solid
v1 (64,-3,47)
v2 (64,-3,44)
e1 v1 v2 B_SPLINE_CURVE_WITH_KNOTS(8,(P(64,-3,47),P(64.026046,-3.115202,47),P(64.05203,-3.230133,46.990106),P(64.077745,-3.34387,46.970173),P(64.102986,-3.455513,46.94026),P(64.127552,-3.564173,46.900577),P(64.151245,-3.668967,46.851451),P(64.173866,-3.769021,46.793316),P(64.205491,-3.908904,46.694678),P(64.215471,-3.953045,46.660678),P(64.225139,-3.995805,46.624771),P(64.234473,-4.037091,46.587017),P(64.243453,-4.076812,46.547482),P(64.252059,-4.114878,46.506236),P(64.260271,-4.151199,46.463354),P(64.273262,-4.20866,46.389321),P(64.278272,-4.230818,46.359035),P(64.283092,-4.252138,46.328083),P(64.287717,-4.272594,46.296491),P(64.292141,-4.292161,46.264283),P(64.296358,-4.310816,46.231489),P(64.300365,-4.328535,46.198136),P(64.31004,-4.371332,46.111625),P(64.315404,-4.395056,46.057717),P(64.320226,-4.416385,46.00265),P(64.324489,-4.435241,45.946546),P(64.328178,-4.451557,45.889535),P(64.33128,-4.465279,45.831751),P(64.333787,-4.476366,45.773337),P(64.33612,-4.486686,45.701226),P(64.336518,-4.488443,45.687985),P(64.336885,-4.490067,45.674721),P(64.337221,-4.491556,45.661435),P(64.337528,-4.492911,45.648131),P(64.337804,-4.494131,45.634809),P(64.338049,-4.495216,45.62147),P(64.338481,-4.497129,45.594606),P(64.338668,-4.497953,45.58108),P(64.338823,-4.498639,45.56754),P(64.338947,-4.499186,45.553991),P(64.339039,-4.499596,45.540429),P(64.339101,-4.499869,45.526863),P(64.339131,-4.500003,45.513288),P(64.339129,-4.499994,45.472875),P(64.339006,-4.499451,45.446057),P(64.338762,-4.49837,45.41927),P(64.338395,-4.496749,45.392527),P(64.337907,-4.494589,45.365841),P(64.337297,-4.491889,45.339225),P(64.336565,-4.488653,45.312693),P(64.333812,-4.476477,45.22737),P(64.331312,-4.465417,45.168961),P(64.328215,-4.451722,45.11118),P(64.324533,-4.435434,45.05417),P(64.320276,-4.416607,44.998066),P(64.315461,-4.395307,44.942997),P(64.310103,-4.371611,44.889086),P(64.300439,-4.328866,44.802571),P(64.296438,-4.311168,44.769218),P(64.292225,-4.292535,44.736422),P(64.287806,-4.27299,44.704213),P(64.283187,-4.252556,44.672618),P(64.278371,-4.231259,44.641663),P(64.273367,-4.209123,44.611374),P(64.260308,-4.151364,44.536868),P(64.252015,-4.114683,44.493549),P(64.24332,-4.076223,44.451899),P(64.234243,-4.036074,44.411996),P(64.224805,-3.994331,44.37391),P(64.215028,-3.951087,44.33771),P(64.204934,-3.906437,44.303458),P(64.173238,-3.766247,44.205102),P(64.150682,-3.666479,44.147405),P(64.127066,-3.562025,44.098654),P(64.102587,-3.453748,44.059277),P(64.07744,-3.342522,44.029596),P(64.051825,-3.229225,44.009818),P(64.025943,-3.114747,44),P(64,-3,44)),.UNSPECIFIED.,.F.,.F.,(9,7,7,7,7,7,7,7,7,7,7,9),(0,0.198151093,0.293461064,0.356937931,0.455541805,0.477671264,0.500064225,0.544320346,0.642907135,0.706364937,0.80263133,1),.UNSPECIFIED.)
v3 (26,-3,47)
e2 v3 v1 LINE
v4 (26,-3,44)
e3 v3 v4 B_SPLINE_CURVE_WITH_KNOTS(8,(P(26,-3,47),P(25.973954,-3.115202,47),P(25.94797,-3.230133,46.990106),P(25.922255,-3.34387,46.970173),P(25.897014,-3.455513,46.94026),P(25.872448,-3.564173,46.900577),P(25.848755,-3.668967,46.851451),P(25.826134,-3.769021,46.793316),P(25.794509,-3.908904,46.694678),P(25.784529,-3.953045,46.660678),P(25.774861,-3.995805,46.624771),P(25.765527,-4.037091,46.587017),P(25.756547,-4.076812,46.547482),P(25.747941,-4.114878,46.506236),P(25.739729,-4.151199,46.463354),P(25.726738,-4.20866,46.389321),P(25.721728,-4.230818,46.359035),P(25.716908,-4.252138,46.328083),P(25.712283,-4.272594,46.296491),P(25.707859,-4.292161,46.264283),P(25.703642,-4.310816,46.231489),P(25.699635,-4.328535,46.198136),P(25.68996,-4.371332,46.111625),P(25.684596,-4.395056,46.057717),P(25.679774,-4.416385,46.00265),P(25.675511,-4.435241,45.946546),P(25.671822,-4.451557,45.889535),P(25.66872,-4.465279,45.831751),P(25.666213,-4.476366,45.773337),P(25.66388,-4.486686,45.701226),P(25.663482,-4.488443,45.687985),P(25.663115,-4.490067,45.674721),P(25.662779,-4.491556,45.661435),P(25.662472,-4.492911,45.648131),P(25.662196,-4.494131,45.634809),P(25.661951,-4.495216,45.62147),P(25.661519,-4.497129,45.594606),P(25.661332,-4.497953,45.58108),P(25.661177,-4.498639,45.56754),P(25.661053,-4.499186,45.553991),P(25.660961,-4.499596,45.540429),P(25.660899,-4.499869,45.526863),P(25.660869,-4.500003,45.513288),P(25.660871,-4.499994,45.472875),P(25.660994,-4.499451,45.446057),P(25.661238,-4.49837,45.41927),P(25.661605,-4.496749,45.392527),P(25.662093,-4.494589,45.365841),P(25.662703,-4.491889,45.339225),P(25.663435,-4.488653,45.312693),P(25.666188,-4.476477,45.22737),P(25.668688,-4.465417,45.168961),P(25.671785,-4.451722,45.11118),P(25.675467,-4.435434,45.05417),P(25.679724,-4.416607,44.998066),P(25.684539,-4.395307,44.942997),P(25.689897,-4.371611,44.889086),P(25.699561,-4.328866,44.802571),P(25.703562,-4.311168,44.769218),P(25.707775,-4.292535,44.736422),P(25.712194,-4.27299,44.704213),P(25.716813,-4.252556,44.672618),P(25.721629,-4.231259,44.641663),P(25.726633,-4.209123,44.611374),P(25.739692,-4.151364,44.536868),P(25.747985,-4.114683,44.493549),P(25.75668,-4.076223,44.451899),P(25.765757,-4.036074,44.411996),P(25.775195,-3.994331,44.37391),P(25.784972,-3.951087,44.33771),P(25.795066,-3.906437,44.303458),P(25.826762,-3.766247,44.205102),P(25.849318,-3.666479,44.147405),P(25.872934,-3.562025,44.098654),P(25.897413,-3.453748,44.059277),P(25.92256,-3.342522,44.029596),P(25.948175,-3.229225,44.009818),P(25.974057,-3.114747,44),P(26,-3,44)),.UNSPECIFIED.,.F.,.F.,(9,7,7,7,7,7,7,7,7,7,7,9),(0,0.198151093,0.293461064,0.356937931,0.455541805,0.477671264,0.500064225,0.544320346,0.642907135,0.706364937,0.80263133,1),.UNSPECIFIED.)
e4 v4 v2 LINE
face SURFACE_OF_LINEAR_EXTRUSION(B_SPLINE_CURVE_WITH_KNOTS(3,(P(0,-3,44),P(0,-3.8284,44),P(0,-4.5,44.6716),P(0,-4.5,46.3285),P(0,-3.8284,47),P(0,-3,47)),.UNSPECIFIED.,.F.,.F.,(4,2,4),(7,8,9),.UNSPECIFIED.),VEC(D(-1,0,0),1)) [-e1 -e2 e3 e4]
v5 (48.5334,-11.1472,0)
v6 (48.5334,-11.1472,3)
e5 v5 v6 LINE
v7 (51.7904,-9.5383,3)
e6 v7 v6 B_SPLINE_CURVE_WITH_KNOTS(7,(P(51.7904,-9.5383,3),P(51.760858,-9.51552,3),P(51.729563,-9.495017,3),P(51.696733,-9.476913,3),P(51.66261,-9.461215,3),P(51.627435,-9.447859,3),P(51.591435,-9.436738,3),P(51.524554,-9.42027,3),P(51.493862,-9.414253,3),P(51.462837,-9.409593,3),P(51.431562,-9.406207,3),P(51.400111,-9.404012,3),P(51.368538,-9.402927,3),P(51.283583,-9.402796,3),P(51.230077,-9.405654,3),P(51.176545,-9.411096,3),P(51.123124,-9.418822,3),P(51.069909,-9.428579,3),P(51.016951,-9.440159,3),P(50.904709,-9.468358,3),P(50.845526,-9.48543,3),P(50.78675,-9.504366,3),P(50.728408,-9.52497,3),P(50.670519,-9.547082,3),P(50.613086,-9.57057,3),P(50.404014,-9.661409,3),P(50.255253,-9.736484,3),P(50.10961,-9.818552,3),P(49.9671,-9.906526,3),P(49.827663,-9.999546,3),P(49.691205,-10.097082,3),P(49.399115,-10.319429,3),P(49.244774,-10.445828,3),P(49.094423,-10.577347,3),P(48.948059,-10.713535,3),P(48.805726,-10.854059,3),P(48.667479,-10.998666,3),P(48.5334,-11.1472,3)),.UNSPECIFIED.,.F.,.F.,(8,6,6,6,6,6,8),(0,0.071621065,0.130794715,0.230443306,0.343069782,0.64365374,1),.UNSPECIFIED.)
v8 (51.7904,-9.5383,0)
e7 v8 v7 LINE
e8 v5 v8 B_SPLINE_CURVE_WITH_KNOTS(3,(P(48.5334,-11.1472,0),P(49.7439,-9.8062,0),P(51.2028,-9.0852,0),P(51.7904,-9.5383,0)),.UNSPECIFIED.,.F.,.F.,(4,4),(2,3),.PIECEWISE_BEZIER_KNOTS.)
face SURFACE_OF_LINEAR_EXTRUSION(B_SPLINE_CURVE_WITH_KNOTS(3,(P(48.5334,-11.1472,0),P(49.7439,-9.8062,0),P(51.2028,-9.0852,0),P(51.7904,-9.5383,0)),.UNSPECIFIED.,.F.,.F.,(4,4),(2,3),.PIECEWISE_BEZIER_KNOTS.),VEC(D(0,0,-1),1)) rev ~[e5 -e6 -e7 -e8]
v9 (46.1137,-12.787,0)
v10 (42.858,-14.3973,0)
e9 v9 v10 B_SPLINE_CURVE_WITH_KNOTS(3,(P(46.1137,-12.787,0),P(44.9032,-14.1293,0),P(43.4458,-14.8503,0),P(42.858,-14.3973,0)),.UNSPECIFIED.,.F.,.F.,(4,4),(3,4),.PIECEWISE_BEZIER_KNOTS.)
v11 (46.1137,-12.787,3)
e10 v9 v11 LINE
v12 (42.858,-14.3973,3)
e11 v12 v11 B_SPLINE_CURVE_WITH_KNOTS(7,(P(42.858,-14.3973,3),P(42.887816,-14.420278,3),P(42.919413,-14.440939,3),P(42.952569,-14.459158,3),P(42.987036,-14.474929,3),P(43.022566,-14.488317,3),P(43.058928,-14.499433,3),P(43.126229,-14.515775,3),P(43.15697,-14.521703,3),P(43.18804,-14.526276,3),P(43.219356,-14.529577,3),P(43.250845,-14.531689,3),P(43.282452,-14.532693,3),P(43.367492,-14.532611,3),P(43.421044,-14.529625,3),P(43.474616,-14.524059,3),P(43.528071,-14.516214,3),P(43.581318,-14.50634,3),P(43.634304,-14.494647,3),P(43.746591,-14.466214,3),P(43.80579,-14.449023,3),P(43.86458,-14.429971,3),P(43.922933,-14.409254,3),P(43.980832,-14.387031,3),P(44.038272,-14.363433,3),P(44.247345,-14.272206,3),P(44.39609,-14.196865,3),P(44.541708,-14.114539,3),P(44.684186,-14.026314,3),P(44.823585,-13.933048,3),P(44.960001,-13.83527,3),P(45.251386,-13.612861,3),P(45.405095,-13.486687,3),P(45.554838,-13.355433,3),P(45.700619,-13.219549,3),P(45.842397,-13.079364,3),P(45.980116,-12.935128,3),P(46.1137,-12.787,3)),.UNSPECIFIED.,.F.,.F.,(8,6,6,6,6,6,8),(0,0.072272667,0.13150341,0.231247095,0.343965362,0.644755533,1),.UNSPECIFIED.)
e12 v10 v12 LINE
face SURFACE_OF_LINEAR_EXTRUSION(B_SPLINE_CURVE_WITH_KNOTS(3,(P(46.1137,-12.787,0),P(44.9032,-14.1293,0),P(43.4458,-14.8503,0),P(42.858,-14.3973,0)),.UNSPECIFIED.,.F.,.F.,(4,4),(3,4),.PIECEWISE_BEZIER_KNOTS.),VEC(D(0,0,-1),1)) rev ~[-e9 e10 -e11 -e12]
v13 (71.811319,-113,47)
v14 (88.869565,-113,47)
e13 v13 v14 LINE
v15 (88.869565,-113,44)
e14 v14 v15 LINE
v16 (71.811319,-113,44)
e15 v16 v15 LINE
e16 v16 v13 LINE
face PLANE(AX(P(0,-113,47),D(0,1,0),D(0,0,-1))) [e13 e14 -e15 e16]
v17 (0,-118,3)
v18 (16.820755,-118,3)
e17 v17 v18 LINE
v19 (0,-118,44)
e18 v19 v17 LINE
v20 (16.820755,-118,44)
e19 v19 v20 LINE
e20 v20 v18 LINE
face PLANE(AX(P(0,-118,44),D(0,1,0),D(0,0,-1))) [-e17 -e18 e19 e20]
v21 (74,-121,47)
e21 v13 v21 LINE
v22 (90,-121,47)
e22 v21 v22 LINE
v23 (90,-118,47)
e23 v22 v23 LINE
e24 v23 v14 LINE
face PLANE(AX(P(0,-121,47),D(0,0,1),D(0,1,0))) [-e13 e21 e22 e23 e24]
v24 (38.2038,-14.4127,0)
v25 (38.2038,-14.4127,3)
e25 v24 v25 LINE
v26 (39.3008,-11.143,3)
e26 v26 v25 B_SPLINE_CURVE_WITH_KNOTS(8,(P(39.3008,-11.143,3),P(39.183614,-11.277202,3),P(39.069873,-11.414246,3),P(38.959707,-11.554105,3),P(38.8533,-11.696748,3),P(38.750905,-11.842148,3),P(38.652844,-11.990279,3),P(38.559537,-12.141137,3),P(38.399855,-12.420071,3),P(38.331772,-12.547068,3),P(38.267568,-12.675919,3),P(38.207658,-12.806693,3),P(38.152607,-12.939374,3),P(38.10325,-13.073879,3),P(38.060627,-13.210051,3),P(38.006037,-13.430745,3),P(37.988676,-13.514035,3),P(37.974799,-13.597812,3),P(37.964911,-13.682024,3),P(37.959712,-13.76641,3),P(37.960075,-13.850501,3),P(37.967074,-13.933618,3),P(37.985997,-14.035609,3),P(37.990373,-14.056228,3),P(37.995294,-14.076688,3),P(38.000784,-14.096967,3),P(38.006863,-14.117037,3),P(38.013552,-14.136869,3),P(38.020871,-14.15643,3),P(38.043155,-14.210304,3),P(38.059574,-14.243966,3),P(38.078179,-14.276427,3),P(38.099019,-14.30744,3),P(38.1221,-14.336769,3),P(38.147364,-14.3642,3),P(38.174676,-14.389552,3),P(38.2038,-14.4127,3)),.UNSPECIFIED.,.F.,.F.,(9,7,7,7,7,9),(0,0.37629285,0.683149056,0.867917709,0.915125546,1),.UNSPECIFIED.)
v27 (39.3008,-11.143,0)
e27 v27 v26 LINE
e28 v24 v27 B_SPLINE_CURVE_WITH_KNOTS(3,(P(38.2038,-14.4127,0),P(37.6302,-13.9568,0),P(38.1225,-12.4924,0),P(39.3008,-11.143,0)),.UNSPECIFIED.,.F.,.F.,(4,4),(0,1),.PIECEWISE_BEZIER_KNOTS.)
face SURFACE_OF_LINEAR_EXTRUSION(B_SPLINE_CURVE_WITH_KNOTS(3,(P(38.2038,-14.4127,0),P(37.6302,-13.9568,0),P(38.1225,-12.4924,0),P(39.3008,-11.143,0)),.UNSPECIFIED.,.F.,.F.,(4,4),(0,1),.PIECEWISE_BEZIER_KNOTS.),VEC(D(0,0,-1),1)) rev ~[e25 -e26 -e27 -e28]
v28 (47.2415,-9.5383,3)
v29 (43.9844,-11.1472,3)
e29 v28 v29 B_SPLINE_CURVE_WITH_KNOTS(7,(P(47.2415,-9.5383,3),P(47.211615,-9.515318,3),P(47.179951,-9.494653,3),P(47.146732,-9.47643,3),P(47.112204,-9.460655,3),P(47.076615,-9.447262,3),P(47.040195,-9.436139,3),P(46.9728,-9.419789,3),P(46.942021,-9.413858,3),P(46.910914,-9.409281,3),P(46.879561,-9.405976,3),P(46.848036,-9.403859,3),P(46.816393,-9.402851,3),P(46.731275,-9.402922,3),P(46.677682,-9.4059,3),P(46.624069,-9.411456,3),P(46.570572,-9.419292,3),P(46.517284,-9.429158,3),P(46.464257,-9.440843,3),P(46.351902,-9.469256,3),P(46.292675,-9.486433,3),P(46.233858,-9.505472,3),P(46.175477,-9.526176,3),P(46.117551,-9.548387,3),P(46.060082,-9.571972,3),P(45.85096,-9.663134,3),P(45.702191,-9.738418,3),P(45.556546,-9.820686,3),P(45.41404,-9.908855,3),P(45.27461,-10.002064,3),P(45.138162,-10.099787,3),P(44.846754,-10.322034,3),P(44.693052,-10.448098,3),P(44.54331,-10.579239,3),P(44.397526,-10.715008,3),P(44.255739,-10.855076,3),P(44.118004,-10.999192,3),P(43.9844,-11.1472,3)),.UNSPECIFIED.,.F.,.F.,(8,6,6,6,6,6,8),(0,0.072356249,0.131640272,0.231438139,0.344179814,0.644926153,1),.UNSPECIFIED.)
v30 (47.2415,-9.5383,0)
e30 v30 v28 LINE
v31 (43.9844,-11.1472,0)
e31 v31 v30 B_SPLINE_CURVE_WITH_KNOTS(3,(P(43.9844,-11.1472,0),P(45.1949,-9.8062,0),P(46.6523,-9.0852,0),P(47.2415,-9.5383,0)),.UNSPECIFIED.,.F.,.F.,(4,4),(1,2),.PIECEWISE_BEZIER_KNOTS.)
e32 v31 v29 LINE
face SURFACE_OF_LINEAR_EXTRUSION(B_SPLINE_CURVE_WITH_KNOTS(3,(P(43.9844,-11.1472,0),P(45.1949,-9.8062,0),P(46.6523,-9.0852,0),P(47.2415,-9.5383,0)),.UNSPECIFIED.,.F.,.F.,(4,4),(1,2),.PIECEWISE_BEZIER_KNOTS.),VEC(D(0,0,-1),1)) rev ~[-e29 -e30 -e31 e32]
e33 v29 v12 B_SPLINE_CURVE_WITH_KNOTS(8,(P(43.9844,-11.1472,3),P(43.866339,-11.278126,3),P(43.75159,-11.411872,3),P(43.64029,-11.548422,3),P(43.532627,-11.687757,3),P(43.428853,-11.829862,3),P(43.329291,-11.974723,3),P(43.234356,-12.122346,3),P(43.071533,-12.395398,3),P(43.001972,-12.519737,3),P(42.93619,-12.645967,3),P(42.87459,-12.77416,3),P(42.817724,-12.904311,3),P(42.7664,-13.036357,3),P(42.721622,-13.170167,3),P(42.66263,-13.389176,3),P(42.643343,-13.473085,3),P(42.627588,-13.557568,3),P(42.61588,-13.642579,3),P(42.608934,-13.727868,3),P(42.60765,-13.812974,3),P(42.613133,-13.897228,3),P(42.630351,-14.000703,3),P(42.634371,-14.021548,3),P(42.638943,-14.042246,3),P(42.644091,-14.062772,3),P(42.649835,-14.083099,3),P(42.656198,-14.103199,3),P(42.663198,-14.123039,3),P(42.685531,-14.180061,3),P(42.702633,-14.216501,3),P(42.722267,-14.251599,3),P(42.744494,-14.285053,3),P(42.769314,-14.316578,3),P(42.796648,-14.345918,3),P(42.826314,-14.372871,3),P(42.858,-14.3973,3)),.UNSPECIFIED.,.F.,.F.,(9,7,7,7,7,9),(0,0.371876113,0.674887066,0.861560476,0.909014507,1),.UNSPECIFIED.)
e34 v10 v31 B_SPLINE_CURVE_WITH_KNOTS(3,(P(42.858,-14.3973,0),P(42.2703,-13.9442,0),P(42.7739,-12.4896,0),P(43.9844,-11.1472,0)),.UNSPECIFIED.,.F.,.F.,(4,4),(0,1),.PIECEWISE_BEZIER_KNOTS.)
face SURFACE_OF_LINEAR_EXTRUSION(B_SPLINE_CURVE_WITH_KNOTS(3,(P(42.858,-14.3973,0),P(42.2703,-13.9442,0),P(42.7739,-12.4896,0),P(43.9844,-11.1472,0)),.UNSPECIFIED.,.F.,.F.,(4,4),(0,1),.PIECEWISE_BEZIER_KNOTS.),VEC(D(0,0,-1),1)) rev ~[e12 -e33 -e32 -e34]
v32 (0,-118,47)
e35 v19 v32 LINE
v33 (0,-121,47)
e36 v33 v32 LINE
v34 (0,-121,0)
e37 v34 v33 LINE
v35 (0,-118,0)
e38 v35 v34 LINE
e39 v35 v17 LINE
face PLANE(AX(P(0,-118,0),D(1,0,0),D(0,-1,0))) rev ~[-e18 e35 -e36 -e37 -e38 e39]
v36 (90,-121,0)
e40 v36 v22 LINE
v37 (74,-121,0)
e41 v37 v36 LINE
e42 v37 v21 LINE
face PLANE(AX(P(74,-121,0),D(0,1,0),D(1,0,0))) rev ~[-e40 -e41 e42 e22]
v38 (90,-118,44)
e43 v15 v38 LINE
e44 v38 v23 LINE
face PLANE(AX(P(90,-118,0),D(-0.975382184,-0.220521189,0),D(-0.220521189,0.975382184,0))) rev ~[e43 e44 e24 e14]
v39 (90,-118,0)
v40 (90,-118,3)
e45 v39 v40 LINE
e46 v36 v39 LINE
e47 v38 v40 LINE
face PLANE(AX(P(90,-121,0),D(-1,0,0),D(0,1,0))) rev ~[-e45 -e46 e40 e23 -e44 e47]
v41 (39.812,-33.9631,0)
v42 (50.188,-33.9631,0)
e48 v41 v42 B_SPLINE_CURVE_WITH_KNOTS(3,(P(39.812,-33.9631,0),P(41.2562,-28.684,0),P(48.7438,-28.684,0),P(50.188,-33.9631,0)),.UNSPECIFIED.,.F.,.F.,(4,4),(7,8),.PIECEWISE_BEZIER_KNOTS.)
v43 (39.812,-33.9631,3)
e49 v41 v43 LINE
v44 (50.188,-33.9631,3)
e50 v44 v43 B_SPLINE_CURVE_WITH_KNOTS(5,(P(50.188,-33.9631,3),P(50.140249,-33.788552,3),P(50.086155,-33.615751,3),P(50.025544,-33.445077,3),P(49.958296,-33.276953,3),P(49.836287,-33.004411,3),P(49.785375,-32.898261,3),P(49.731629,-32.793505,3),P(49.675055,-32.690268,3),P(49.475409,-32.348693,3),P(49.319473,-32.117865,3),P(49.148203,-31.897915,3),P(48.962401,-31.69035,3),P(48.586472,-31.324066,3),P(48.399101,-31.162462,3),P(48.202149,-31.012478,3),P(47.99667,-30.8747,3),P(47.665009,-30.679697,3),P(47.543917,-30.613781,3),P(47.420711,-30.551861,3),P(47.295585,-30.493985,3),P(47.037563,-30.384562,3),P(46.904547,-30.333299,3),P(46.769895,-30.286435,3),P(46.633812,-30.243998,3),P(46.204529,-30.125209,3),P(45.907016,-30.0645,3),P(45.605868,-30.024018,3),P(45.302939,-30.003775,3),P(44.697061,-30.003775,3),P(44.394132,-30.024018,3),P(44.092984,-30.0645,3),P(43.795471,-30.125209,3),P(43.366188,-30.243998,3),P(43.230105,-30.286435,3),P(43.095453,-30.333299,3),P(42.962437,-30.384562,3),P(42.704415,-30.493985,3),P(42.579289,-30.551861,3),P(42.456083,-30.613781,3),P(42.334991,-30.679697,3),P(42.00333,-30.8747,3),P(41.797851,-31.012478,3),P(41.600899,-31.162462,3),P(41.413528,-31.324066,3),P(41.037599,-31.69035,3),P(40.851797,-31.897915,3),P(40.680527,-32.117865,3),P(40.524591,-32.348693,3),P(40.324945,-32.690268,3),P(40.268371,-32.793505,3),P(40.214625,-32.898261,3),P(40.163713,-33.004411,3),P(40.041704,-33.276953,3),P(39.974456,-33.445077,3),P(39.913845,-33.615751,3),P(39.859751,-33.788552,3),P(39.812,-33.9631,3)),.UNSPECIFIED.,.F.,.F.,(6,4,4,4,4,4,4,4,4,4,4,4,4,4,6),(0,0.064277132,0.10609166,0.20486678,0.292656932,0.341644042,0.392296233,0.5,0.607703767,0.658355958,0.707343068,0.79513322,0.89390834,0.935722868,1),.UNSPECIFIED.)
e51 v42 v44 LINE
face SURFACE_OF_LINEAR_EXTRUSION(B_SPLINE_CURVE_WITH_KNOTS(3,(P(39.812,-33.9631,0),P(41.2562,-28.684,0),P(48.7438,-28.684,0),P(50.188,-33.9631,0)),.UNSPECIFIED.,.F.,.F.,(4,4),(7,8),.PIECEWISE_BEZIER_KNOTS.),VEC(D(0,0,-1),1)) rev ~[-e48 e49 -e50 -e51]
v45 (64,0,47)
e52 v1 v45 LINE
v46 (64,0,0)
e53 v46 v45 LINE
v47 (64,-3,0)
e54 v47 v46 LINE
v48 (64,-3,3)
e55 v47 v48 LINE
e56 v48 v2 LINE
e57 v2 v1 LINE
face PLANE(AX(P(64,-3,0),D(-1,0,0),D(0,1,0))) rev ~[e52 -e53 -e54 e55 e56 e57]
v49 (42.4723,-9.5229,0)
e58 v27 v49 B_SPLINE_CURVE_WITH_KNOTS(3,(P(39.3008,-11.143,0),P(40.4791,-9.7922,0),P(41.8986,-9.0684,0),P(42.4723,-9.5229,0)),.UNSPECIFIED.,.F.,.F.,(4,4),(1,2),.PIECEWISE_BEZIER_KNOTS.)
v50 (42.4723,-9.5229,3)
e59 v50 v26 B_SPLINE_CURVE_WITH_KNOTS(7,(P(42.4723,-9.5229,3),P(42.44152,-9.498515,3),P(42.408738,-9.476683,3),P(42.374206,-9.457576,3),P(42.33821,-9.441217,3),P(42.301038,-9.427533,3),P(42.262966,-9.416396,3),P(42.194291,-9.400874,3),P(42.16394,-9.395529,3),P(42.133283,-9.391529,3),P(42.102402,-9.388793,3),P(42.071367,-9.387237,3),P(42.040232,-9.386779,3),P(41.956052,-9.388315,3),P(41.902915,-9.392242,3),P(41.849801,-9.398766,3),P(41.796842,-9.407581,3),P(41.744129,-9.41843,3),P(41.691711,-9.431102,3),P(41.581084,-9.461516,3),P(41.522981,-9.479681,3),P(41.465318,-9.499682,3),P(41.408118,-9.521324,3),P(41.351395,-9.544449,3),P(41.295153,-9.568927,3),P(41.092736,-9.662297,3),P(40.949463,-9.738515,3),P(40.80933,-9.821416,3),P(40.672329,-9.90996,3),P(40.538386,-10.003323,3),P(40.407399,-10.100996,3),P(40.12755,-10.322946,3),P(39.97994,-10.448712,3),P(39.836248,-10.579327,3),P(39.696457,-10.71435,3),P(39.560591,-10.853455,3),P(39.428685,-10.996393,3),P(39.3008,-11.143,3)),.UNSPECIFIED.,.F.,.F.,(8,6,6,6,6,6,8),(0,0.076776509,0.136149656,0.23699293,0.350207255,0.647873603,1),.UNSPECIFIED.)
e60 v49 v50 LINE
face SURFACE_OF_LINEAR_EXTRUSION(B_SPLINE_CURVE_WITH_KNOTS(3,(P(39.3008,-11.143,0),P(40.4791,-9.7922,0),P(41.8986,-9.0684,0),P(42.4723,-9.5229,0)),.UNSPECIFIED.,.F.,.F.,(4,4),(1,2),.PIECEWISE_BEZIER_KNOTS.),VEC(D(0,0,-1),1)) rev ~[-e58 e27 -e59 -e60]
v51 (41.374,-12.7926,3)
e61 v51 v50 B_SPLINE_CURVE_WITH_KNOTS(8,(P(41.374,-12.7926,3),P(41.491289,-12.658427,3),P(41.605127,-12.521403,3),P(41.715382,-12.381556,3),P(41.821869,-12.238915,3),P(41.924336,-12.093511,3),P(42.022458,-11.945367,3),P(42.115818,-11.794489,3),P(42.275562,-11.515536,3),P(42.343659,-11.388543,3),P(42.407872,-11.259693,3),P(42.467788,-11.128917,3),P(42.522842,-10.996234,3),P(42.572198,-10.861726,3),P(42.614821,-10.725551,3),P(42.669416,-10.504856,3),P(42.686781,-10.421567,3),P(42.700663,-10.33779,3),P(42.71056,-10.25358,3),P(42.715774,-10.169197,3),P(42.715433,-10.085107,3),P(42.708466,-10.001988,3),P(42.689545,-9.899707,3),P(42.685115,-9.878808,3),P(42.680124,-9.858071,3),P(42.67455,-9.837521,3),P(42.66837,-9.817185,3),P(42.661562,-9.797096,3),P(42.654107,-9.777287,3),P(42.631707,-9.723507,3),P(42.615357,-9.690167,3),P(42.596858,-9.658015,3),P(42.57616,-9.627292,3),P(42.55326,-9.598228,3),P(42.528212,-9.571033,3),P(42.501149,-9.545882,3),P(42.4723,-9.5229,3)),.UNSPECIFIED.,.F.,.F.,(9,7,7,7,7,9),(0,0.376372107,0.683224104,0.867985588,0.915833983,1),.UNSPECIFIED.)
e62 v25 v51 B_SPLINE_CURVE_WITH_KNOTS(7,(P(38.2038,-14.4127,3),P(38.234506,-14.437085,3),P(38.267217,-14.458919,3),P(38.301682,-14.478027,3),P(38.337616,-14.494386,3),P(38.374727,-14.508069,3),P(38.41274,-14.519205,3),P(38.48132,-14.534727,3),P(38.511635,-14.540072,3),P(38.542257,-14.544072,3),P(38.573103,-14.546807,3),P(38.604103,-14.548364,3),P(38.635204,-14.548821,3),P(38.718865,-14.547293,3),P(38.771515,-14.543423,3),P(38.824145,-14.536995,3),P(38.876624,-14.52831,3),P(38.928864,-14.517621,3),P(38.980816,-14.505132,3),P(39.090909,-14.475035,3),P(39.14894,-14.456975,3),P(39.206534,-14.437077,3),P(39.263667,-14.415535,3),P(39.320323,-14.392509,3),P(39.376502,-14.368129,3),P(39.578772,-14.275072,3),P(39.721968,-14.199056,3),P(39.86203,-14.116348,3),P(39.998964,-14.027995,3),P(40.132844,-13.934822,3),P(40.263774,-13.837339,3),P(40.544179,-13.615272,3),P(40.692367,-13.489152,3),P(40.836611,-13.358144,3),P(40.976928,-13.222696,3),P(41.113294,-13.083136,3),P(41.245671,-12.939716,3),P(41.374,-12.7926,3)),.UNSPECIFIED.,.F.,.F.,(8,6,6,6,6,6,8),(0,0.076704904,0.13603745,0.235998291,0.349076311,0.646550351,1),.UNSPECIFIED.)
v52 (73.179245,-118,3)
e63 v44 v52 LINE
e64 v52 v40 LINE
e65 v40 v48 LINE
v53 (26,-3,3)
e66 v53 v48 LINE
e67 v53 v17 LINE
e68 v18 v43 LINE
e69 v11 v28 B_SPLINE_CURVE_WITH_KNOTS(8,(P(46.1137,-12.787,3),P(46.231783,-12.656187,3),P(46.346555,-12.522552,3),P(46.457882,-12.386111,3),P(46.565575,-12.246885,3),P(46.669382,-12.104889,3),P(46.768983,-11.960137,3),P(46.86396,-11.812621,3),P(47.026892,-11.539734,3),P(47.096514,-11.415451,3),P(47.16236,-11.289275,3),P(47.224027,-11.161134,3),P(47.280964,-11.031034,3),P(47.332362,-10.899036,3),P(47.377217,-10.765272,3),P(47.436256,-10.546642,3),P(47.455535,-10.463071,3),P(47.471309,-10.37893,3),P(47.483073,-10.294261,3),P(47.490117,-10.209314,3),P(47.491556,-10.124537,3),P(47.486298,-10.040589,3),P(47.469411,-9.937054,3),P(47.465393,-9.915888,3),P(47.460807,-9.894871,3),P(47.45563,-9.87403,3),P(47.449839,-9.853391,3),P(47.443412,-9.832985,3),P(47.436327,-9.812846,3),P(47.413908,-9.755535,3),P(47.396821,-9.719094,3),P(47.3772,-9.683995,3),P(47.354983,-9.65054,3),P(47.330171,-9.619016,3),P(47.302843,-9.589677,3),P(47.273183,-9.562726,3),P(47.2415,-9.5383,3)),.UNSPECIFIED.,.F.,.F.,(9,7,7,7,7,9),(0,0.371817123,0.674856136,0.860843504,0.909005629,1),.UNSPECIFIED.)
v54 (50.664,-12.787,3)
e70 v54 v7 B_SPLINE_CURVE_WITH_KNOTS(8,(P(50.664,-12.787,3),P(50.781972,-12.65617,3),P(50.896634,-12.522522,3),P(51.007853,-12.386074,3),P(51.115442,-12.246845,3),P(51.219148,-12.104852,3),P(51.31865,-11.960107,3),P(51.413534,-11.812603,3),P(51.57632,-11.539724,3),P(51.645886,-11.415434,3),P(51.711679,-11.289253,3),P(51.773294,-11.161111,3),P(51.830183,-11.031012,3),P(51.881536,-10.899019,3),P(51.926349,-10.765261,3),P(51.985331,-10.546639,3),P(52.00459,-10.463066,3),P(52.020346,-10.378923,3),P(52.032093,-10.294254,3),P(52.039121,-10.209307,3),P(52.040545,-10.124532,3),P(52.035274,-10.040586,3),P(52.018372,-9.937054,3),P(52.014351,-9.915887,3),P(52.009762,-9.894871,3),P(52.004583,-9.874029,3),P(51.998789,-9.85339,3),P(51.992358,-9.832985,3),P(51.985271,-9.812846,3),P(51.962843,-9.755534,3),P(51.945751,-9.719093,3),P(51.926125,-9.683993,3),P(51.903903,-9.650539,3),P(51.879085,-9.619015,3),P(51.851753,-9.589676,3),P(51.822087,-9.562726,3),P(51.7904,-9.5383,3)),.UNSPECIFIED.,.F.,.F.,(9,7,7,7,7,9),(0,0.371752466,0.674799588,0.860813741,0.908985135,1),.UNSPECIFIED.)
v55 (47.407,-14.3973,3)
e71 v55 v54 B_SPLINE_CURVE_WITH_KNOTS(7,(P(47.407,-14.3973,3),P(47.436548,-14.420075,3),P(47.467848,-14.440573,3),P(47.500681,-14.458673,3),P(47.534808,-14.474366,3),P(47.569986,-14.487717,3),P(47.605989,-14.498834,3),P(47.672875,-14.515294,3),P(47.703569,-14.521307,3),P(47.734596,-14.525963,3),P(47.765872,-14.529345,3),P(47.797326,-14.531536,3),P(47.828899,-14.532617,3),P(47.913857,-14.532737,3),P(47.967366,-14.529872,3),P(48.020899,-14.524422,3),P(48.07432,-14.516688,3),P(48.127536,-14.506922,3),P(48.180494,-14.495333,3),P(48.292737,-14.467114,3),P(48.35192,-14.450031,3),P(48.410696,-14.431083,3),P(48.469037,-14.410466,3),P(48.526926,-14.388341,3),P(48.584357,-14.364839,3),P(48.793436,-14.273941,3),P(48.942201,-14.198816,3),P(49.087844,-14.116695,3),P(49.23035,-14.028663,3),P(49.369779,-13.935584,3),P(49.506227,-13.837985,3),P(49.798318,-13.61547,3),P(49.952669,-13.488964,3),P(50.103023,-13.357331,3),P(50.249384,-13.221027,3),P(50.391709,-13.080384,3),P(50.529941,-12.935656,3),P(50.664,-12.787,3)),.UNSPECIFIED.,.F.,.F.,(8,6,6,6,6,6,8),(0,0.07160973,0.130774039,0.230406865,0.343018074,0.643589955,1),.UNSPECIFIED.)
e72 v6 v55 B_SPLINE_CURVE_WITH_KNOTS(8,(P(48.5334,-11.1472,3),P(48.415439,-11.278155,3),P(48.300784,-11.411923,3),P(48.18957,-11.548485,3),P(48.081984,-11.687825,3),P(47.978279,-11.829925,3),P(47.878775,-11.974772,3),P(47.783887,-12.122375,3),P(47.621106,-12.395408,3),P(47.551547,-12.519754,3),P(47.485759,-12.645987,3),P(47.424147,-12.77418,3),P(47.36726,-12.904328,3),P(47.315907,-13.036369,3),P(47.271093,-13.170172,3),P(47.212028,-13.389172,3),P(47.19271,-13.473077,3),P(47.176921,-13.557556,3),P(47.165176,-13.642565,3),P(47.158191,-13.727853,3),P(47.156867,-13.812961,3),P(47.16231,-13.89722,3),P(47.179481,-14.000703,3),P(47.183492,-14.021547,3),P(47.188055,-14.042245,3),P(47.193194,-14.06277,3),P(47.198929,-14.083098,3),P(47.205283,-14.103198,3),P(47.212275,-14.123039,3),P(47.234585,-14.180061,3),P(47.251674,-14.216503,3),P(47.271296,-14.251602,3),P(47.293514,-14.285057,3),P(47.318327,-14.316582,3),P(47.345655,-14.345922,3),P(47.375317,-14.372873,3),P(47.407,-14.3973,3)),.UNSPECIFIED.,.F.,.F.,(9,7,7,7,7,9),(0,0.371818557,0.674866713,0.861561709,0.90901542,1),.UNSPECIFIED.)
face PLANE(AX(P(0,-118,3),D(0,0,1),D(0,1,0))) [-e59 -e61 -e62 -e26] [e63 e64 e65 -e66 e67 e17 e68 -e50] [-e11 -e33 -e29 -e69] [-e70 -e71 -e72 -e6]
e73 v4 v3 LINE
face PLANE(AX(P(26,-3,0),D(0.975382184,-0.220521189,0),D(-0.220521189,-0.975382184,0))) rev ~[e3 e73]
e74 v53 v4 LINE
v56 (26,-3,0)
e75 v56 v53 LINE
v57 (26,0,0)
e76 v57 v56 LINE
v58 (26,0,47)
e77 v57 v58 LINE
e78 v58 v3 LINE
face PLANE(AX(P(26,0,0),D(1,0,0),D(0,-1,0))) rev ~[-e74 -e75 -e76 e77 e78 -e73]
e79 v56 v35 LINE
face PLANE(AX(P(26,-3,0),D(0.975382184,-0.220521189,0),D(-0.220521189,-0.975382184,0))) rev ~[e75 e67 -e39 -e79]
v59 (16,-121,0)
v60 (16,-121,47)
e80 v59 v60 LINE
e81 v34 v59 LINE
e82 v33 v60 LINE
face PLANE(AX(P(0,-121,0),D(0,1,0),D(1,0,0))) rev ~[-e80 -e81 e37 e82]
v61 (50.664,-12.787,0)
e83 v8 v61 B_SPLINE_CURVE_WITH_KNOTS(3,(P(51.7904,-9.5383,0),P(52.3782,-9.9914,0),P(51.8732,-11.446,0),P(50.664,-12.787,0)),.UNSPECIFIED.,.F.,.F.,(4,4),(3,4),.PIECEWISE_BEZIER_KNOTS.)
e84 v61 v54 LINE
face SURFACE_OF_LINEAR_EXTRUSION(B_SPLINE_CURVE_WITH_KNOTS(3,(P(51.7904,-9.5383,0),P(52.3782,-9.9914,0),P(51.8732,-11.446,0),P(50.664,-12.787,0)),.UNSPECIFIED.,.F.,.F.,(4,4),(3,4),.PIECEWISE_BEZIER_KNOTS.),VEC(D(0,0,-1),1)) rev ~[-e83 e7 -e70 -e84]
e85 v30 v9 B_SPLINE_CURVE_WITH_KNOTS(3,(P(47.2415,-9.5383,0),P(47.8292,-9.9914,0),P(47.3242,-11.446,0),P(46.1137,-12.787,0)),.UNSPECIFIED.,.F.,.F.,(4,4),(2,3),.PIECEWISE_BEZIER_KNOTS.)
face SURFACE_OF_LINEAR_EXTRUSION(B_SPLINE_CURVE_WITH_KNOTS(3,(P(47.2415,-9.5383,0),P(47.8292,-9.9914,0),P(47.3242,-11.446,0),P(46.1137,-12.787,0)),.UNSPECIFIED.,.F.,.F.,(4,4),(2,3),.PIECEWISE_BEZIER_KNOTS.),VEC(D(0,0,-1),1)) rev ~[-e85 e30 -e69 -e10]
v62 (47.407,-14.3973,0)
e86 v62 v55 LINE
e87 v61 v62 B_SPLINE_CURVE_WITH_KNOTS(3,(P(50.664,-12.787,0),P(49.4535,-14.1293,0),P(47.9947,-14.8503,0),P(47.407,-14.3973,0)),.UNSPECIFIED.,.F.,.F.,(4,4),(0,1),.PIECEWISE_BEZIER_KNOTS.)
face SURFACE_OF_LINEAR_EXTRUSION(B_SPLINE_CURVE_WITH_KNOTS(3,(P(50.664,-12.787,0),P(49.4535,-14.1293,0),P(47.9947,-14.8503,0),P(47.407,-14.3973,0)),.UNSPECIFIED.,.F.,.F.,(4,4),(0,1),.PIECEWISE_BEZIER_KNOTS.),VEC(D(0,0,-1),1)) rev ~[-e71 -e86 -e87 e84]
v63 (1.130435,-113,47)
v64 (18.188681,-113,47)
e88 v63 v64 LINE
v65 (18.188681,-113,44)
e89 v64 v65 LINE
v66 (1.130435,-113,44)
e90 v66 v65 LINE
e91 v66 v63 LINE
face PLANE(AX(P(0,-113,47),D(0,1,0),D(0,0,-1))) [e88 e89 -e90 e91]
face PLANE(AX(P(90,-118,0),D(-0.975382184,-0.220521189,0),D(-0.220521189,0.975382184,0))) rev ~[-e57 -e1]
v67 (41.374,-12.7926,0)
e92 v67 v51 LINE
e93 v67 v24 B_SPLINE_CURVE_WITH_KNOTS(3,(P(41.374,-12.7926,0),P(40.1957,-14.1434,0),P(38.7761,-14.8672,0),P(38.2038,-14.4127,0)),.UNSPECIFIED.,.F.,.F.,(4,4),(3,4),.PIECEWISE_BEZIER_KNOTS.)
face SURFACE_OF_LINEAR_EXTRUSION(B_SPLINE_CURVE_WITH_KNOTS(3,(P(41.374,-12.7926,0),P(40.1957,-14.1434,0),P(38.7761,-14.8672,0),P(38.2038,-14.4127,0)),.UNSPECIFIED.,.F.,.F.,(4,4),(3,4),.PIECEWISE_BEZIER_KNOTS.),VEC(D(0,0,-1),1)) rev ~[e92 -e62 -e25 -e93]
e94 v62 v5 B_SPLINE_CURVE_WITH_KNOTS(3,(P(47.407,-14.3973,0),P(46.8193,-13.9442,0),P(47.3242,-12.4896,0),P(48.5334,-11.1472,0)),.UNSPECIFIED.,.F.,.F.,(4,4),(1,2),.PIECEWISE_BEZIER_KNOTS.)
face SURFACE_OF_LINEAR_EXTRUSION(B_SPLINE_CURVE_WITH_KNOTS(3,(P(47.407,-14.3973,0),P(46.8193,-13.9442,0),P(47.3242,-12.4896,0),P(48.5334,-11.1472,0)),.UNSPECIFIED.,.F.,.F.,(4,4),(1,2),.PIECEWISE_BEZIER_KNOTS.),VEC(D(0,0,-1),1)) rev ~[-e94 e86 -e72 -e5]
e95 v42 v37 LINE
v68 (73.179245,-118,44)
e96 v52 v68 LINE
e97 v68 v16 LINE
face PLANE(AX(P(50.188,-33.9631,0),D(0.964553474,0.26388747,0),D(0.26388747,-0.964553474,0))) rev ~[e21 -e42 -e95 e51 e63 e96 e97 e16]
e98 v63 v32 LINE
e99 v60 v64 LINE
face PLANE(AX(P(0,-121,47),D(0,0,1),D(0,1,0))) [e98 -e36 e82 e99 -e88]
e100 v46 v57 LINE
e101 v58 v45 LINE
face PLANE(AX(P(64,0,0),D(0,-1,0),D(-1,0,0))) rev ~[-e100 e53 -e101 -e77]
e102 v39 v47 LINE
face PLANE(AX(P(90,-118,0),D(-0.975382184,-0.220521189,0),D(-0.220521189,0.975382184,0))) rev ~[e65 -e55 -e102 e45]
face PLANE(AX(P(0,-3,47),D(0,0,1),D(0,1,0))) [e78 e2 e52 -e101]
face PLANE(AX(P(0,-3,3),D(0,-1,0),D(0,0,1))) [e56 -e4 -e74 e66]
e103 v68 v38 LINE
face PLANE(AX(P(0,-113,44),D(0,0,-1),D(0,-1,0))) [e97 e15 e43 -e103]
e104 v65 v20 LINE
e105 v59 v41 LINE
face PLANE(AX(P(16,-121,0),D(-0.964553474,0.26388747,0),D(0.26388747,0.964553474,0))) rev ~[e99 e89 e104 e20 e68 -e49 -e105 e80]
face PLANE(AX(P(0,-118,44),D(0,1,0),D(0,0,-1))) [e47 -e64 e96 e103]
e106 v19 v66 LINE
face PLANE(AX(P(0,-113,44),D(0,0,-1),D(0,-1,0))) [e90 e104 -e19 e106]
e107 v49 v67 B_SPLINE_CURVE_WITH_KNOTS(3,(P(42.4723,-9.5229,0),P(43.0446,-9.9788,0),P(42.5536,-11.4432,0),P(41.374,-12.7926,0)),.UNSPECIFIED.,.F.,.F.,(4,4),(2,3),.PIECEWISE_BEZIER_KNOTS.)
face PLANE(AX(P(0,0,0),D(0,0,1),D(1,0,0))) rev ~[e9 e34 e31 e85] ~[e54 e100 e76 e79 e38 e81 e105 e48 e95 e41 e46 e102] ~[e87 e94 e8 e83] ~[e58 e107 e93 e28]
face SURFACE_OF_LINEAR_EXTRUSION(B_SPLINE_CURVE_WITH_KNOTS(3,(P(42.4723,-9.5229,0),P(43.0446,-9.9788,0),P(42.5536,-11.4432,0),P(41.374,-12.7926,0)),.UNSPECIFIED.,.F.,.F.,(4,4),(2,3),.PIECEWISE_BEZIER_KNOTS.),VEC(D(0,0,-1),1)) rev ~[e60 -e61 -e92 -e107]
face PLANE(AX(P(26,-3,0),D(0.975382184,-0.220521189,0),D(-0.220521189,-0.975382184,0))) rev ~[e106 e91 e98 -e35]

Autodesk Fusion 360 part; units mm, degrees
sketch "Top" plane through (0, 0, 0) normal (0, 0, 1) x (1, 0, 0)
  spline S0 degree 3 poles (50.664, -12.787) (49.4535, -14.1293) (47.9947, -14.8503) (47.407, -14.3973) knots 0 0 0 0 1 1 1 1
  spline S1 degree 3 poles (47.407, -14.3973) (46.8193, -13.9442) (47.3242, -12.4896) (48.5334, -11.1472) knots 1 1 1 1 2 2 2 2
  spline S2 degree 3 poles (48.5334, -11.1472) (49.7439, -9.8062) (51.2028, -9.0852) (51.7904, -9.5383) knots 2 2 2 2 3 3 3 3
  spline S3 degree 3 poles (51.7904, -9.5383) (52.3782, -9.9914) (51.8732, -11.446) (50.664, -12.787) knots 3 3 3 3 4 4 4 4
  spline S4 degree 3 poles (42.858, -14.3973) (42.2703, -13.9442) (42.7739, -12.4896) (43.9844, -11.1472) knots 0 0 0 0 1 1 1 1
  spline S5 degree 3 poles (43.9844, -11.1472) (45.1949, -9.8062) (46.6523, -9.0852) (47.2415, -9.5383) knots 1 1 1 1 2 2 2 2
  spline S6 degree 3 poles (47.2415, -9.5383) (47.8292, -9.9914) (47.3242, -11.446) (46.1137, -12.787) knots 2 2 2 2 3 3 3 3
  spline S7 degree 3 poles (46.1137, -12.787) (44.9032, -14.1293) (43.4458, -14.8503) (42.858, -14.3973) knots 3 3 3 3 4 4 4 4
  spline S8 degree 3 poles (38.2038, -14.4127) (37.6302, -13.9568) (38.1225, -12.4924) (39.3008, -11.143) knots 0 0 0 0 1 1 1 1
  spline S9 degree 3 poles (39.3008, -11.143) (40.4791, -9.7922) (41.8986, -9.0684) (42.4723, -9.5229) knots 1 1 1 1 2 2 2 2
  spline S10 degree 3 poles (42.4723, -9.5229) (43.0446, -9.9788) (42.5536, -11.4432) (41.374, -12.7926) knots 2 2 2 2 3 3 3 3
  spline S11 degree 3 poles (41.374, -12.7926) (40.1957, -14.1434) (38.7761, -14.8672) (38.2038, -14.4127) knots 3 3 3 3 4 4 4 4
  line L0 (64, -3) -> (64, 0)
  line L1 (64, 0) -> (26, 0)
  line L2 (26, 0) -> (26, -3)
  line L3 (26, -3) -> (0, -118)
  line L4 (0, -118) -> (0, -121)
  line L5 (0, -121) -> (16, -121)
  line L6 (16, -121) -> (39.812, -33.9631)
  spline S12 degree 3 poles (39.812, -33.9631) (41.2562, -28.684) (48.7438, -28.684) (50.188, -33.9631) knots 7 7 7 7 8 8 8 8
  line L7 (50.188, -33.9631) -> (74, -121)
  line L8 (74, -121) -> (90, -121)
  line L9 (90, -121) -> (90, -118)
  line L10 (90, -118) -> (64, -3)
extrude "Extrude1" add sketch "Top" along normal blind 57
sketch "RightSideCut" plane through (0, 0, 0) normal (1, 0, 0) x (0, 1, 0)
  line L0 (-121, 57) -> (-121, 47)
  line L1 (-121, 47) -> (-113, 47)
  line L2 (-113, 47) -> (-113, 44)
  line L3 (-113, 44) -> (-118, 44)
  line L4 (-118, 44) -> (-118, 3)
  line L5 (-118, 3) -> (-3, 3)
  line L6 (-3, 3) -> (-3, 44)
  spline S0 degree 3 poles (-3, 44) (-3.8284, 44) (-4.5, 44.6716) (-4.5, 46.3285) (-3.8284, 47) (-3, 47) knots 7 7 7 7 8 8 9 9 9 9
  line L7 (-3, 47) -> (0, 47)
  line L8 (0, 47) -> (0, 57)
  line L9 (0, 57) -> (-121, 57)
extrude "Extrude2" cut sketch "RightSideCut" along normal blind 90
